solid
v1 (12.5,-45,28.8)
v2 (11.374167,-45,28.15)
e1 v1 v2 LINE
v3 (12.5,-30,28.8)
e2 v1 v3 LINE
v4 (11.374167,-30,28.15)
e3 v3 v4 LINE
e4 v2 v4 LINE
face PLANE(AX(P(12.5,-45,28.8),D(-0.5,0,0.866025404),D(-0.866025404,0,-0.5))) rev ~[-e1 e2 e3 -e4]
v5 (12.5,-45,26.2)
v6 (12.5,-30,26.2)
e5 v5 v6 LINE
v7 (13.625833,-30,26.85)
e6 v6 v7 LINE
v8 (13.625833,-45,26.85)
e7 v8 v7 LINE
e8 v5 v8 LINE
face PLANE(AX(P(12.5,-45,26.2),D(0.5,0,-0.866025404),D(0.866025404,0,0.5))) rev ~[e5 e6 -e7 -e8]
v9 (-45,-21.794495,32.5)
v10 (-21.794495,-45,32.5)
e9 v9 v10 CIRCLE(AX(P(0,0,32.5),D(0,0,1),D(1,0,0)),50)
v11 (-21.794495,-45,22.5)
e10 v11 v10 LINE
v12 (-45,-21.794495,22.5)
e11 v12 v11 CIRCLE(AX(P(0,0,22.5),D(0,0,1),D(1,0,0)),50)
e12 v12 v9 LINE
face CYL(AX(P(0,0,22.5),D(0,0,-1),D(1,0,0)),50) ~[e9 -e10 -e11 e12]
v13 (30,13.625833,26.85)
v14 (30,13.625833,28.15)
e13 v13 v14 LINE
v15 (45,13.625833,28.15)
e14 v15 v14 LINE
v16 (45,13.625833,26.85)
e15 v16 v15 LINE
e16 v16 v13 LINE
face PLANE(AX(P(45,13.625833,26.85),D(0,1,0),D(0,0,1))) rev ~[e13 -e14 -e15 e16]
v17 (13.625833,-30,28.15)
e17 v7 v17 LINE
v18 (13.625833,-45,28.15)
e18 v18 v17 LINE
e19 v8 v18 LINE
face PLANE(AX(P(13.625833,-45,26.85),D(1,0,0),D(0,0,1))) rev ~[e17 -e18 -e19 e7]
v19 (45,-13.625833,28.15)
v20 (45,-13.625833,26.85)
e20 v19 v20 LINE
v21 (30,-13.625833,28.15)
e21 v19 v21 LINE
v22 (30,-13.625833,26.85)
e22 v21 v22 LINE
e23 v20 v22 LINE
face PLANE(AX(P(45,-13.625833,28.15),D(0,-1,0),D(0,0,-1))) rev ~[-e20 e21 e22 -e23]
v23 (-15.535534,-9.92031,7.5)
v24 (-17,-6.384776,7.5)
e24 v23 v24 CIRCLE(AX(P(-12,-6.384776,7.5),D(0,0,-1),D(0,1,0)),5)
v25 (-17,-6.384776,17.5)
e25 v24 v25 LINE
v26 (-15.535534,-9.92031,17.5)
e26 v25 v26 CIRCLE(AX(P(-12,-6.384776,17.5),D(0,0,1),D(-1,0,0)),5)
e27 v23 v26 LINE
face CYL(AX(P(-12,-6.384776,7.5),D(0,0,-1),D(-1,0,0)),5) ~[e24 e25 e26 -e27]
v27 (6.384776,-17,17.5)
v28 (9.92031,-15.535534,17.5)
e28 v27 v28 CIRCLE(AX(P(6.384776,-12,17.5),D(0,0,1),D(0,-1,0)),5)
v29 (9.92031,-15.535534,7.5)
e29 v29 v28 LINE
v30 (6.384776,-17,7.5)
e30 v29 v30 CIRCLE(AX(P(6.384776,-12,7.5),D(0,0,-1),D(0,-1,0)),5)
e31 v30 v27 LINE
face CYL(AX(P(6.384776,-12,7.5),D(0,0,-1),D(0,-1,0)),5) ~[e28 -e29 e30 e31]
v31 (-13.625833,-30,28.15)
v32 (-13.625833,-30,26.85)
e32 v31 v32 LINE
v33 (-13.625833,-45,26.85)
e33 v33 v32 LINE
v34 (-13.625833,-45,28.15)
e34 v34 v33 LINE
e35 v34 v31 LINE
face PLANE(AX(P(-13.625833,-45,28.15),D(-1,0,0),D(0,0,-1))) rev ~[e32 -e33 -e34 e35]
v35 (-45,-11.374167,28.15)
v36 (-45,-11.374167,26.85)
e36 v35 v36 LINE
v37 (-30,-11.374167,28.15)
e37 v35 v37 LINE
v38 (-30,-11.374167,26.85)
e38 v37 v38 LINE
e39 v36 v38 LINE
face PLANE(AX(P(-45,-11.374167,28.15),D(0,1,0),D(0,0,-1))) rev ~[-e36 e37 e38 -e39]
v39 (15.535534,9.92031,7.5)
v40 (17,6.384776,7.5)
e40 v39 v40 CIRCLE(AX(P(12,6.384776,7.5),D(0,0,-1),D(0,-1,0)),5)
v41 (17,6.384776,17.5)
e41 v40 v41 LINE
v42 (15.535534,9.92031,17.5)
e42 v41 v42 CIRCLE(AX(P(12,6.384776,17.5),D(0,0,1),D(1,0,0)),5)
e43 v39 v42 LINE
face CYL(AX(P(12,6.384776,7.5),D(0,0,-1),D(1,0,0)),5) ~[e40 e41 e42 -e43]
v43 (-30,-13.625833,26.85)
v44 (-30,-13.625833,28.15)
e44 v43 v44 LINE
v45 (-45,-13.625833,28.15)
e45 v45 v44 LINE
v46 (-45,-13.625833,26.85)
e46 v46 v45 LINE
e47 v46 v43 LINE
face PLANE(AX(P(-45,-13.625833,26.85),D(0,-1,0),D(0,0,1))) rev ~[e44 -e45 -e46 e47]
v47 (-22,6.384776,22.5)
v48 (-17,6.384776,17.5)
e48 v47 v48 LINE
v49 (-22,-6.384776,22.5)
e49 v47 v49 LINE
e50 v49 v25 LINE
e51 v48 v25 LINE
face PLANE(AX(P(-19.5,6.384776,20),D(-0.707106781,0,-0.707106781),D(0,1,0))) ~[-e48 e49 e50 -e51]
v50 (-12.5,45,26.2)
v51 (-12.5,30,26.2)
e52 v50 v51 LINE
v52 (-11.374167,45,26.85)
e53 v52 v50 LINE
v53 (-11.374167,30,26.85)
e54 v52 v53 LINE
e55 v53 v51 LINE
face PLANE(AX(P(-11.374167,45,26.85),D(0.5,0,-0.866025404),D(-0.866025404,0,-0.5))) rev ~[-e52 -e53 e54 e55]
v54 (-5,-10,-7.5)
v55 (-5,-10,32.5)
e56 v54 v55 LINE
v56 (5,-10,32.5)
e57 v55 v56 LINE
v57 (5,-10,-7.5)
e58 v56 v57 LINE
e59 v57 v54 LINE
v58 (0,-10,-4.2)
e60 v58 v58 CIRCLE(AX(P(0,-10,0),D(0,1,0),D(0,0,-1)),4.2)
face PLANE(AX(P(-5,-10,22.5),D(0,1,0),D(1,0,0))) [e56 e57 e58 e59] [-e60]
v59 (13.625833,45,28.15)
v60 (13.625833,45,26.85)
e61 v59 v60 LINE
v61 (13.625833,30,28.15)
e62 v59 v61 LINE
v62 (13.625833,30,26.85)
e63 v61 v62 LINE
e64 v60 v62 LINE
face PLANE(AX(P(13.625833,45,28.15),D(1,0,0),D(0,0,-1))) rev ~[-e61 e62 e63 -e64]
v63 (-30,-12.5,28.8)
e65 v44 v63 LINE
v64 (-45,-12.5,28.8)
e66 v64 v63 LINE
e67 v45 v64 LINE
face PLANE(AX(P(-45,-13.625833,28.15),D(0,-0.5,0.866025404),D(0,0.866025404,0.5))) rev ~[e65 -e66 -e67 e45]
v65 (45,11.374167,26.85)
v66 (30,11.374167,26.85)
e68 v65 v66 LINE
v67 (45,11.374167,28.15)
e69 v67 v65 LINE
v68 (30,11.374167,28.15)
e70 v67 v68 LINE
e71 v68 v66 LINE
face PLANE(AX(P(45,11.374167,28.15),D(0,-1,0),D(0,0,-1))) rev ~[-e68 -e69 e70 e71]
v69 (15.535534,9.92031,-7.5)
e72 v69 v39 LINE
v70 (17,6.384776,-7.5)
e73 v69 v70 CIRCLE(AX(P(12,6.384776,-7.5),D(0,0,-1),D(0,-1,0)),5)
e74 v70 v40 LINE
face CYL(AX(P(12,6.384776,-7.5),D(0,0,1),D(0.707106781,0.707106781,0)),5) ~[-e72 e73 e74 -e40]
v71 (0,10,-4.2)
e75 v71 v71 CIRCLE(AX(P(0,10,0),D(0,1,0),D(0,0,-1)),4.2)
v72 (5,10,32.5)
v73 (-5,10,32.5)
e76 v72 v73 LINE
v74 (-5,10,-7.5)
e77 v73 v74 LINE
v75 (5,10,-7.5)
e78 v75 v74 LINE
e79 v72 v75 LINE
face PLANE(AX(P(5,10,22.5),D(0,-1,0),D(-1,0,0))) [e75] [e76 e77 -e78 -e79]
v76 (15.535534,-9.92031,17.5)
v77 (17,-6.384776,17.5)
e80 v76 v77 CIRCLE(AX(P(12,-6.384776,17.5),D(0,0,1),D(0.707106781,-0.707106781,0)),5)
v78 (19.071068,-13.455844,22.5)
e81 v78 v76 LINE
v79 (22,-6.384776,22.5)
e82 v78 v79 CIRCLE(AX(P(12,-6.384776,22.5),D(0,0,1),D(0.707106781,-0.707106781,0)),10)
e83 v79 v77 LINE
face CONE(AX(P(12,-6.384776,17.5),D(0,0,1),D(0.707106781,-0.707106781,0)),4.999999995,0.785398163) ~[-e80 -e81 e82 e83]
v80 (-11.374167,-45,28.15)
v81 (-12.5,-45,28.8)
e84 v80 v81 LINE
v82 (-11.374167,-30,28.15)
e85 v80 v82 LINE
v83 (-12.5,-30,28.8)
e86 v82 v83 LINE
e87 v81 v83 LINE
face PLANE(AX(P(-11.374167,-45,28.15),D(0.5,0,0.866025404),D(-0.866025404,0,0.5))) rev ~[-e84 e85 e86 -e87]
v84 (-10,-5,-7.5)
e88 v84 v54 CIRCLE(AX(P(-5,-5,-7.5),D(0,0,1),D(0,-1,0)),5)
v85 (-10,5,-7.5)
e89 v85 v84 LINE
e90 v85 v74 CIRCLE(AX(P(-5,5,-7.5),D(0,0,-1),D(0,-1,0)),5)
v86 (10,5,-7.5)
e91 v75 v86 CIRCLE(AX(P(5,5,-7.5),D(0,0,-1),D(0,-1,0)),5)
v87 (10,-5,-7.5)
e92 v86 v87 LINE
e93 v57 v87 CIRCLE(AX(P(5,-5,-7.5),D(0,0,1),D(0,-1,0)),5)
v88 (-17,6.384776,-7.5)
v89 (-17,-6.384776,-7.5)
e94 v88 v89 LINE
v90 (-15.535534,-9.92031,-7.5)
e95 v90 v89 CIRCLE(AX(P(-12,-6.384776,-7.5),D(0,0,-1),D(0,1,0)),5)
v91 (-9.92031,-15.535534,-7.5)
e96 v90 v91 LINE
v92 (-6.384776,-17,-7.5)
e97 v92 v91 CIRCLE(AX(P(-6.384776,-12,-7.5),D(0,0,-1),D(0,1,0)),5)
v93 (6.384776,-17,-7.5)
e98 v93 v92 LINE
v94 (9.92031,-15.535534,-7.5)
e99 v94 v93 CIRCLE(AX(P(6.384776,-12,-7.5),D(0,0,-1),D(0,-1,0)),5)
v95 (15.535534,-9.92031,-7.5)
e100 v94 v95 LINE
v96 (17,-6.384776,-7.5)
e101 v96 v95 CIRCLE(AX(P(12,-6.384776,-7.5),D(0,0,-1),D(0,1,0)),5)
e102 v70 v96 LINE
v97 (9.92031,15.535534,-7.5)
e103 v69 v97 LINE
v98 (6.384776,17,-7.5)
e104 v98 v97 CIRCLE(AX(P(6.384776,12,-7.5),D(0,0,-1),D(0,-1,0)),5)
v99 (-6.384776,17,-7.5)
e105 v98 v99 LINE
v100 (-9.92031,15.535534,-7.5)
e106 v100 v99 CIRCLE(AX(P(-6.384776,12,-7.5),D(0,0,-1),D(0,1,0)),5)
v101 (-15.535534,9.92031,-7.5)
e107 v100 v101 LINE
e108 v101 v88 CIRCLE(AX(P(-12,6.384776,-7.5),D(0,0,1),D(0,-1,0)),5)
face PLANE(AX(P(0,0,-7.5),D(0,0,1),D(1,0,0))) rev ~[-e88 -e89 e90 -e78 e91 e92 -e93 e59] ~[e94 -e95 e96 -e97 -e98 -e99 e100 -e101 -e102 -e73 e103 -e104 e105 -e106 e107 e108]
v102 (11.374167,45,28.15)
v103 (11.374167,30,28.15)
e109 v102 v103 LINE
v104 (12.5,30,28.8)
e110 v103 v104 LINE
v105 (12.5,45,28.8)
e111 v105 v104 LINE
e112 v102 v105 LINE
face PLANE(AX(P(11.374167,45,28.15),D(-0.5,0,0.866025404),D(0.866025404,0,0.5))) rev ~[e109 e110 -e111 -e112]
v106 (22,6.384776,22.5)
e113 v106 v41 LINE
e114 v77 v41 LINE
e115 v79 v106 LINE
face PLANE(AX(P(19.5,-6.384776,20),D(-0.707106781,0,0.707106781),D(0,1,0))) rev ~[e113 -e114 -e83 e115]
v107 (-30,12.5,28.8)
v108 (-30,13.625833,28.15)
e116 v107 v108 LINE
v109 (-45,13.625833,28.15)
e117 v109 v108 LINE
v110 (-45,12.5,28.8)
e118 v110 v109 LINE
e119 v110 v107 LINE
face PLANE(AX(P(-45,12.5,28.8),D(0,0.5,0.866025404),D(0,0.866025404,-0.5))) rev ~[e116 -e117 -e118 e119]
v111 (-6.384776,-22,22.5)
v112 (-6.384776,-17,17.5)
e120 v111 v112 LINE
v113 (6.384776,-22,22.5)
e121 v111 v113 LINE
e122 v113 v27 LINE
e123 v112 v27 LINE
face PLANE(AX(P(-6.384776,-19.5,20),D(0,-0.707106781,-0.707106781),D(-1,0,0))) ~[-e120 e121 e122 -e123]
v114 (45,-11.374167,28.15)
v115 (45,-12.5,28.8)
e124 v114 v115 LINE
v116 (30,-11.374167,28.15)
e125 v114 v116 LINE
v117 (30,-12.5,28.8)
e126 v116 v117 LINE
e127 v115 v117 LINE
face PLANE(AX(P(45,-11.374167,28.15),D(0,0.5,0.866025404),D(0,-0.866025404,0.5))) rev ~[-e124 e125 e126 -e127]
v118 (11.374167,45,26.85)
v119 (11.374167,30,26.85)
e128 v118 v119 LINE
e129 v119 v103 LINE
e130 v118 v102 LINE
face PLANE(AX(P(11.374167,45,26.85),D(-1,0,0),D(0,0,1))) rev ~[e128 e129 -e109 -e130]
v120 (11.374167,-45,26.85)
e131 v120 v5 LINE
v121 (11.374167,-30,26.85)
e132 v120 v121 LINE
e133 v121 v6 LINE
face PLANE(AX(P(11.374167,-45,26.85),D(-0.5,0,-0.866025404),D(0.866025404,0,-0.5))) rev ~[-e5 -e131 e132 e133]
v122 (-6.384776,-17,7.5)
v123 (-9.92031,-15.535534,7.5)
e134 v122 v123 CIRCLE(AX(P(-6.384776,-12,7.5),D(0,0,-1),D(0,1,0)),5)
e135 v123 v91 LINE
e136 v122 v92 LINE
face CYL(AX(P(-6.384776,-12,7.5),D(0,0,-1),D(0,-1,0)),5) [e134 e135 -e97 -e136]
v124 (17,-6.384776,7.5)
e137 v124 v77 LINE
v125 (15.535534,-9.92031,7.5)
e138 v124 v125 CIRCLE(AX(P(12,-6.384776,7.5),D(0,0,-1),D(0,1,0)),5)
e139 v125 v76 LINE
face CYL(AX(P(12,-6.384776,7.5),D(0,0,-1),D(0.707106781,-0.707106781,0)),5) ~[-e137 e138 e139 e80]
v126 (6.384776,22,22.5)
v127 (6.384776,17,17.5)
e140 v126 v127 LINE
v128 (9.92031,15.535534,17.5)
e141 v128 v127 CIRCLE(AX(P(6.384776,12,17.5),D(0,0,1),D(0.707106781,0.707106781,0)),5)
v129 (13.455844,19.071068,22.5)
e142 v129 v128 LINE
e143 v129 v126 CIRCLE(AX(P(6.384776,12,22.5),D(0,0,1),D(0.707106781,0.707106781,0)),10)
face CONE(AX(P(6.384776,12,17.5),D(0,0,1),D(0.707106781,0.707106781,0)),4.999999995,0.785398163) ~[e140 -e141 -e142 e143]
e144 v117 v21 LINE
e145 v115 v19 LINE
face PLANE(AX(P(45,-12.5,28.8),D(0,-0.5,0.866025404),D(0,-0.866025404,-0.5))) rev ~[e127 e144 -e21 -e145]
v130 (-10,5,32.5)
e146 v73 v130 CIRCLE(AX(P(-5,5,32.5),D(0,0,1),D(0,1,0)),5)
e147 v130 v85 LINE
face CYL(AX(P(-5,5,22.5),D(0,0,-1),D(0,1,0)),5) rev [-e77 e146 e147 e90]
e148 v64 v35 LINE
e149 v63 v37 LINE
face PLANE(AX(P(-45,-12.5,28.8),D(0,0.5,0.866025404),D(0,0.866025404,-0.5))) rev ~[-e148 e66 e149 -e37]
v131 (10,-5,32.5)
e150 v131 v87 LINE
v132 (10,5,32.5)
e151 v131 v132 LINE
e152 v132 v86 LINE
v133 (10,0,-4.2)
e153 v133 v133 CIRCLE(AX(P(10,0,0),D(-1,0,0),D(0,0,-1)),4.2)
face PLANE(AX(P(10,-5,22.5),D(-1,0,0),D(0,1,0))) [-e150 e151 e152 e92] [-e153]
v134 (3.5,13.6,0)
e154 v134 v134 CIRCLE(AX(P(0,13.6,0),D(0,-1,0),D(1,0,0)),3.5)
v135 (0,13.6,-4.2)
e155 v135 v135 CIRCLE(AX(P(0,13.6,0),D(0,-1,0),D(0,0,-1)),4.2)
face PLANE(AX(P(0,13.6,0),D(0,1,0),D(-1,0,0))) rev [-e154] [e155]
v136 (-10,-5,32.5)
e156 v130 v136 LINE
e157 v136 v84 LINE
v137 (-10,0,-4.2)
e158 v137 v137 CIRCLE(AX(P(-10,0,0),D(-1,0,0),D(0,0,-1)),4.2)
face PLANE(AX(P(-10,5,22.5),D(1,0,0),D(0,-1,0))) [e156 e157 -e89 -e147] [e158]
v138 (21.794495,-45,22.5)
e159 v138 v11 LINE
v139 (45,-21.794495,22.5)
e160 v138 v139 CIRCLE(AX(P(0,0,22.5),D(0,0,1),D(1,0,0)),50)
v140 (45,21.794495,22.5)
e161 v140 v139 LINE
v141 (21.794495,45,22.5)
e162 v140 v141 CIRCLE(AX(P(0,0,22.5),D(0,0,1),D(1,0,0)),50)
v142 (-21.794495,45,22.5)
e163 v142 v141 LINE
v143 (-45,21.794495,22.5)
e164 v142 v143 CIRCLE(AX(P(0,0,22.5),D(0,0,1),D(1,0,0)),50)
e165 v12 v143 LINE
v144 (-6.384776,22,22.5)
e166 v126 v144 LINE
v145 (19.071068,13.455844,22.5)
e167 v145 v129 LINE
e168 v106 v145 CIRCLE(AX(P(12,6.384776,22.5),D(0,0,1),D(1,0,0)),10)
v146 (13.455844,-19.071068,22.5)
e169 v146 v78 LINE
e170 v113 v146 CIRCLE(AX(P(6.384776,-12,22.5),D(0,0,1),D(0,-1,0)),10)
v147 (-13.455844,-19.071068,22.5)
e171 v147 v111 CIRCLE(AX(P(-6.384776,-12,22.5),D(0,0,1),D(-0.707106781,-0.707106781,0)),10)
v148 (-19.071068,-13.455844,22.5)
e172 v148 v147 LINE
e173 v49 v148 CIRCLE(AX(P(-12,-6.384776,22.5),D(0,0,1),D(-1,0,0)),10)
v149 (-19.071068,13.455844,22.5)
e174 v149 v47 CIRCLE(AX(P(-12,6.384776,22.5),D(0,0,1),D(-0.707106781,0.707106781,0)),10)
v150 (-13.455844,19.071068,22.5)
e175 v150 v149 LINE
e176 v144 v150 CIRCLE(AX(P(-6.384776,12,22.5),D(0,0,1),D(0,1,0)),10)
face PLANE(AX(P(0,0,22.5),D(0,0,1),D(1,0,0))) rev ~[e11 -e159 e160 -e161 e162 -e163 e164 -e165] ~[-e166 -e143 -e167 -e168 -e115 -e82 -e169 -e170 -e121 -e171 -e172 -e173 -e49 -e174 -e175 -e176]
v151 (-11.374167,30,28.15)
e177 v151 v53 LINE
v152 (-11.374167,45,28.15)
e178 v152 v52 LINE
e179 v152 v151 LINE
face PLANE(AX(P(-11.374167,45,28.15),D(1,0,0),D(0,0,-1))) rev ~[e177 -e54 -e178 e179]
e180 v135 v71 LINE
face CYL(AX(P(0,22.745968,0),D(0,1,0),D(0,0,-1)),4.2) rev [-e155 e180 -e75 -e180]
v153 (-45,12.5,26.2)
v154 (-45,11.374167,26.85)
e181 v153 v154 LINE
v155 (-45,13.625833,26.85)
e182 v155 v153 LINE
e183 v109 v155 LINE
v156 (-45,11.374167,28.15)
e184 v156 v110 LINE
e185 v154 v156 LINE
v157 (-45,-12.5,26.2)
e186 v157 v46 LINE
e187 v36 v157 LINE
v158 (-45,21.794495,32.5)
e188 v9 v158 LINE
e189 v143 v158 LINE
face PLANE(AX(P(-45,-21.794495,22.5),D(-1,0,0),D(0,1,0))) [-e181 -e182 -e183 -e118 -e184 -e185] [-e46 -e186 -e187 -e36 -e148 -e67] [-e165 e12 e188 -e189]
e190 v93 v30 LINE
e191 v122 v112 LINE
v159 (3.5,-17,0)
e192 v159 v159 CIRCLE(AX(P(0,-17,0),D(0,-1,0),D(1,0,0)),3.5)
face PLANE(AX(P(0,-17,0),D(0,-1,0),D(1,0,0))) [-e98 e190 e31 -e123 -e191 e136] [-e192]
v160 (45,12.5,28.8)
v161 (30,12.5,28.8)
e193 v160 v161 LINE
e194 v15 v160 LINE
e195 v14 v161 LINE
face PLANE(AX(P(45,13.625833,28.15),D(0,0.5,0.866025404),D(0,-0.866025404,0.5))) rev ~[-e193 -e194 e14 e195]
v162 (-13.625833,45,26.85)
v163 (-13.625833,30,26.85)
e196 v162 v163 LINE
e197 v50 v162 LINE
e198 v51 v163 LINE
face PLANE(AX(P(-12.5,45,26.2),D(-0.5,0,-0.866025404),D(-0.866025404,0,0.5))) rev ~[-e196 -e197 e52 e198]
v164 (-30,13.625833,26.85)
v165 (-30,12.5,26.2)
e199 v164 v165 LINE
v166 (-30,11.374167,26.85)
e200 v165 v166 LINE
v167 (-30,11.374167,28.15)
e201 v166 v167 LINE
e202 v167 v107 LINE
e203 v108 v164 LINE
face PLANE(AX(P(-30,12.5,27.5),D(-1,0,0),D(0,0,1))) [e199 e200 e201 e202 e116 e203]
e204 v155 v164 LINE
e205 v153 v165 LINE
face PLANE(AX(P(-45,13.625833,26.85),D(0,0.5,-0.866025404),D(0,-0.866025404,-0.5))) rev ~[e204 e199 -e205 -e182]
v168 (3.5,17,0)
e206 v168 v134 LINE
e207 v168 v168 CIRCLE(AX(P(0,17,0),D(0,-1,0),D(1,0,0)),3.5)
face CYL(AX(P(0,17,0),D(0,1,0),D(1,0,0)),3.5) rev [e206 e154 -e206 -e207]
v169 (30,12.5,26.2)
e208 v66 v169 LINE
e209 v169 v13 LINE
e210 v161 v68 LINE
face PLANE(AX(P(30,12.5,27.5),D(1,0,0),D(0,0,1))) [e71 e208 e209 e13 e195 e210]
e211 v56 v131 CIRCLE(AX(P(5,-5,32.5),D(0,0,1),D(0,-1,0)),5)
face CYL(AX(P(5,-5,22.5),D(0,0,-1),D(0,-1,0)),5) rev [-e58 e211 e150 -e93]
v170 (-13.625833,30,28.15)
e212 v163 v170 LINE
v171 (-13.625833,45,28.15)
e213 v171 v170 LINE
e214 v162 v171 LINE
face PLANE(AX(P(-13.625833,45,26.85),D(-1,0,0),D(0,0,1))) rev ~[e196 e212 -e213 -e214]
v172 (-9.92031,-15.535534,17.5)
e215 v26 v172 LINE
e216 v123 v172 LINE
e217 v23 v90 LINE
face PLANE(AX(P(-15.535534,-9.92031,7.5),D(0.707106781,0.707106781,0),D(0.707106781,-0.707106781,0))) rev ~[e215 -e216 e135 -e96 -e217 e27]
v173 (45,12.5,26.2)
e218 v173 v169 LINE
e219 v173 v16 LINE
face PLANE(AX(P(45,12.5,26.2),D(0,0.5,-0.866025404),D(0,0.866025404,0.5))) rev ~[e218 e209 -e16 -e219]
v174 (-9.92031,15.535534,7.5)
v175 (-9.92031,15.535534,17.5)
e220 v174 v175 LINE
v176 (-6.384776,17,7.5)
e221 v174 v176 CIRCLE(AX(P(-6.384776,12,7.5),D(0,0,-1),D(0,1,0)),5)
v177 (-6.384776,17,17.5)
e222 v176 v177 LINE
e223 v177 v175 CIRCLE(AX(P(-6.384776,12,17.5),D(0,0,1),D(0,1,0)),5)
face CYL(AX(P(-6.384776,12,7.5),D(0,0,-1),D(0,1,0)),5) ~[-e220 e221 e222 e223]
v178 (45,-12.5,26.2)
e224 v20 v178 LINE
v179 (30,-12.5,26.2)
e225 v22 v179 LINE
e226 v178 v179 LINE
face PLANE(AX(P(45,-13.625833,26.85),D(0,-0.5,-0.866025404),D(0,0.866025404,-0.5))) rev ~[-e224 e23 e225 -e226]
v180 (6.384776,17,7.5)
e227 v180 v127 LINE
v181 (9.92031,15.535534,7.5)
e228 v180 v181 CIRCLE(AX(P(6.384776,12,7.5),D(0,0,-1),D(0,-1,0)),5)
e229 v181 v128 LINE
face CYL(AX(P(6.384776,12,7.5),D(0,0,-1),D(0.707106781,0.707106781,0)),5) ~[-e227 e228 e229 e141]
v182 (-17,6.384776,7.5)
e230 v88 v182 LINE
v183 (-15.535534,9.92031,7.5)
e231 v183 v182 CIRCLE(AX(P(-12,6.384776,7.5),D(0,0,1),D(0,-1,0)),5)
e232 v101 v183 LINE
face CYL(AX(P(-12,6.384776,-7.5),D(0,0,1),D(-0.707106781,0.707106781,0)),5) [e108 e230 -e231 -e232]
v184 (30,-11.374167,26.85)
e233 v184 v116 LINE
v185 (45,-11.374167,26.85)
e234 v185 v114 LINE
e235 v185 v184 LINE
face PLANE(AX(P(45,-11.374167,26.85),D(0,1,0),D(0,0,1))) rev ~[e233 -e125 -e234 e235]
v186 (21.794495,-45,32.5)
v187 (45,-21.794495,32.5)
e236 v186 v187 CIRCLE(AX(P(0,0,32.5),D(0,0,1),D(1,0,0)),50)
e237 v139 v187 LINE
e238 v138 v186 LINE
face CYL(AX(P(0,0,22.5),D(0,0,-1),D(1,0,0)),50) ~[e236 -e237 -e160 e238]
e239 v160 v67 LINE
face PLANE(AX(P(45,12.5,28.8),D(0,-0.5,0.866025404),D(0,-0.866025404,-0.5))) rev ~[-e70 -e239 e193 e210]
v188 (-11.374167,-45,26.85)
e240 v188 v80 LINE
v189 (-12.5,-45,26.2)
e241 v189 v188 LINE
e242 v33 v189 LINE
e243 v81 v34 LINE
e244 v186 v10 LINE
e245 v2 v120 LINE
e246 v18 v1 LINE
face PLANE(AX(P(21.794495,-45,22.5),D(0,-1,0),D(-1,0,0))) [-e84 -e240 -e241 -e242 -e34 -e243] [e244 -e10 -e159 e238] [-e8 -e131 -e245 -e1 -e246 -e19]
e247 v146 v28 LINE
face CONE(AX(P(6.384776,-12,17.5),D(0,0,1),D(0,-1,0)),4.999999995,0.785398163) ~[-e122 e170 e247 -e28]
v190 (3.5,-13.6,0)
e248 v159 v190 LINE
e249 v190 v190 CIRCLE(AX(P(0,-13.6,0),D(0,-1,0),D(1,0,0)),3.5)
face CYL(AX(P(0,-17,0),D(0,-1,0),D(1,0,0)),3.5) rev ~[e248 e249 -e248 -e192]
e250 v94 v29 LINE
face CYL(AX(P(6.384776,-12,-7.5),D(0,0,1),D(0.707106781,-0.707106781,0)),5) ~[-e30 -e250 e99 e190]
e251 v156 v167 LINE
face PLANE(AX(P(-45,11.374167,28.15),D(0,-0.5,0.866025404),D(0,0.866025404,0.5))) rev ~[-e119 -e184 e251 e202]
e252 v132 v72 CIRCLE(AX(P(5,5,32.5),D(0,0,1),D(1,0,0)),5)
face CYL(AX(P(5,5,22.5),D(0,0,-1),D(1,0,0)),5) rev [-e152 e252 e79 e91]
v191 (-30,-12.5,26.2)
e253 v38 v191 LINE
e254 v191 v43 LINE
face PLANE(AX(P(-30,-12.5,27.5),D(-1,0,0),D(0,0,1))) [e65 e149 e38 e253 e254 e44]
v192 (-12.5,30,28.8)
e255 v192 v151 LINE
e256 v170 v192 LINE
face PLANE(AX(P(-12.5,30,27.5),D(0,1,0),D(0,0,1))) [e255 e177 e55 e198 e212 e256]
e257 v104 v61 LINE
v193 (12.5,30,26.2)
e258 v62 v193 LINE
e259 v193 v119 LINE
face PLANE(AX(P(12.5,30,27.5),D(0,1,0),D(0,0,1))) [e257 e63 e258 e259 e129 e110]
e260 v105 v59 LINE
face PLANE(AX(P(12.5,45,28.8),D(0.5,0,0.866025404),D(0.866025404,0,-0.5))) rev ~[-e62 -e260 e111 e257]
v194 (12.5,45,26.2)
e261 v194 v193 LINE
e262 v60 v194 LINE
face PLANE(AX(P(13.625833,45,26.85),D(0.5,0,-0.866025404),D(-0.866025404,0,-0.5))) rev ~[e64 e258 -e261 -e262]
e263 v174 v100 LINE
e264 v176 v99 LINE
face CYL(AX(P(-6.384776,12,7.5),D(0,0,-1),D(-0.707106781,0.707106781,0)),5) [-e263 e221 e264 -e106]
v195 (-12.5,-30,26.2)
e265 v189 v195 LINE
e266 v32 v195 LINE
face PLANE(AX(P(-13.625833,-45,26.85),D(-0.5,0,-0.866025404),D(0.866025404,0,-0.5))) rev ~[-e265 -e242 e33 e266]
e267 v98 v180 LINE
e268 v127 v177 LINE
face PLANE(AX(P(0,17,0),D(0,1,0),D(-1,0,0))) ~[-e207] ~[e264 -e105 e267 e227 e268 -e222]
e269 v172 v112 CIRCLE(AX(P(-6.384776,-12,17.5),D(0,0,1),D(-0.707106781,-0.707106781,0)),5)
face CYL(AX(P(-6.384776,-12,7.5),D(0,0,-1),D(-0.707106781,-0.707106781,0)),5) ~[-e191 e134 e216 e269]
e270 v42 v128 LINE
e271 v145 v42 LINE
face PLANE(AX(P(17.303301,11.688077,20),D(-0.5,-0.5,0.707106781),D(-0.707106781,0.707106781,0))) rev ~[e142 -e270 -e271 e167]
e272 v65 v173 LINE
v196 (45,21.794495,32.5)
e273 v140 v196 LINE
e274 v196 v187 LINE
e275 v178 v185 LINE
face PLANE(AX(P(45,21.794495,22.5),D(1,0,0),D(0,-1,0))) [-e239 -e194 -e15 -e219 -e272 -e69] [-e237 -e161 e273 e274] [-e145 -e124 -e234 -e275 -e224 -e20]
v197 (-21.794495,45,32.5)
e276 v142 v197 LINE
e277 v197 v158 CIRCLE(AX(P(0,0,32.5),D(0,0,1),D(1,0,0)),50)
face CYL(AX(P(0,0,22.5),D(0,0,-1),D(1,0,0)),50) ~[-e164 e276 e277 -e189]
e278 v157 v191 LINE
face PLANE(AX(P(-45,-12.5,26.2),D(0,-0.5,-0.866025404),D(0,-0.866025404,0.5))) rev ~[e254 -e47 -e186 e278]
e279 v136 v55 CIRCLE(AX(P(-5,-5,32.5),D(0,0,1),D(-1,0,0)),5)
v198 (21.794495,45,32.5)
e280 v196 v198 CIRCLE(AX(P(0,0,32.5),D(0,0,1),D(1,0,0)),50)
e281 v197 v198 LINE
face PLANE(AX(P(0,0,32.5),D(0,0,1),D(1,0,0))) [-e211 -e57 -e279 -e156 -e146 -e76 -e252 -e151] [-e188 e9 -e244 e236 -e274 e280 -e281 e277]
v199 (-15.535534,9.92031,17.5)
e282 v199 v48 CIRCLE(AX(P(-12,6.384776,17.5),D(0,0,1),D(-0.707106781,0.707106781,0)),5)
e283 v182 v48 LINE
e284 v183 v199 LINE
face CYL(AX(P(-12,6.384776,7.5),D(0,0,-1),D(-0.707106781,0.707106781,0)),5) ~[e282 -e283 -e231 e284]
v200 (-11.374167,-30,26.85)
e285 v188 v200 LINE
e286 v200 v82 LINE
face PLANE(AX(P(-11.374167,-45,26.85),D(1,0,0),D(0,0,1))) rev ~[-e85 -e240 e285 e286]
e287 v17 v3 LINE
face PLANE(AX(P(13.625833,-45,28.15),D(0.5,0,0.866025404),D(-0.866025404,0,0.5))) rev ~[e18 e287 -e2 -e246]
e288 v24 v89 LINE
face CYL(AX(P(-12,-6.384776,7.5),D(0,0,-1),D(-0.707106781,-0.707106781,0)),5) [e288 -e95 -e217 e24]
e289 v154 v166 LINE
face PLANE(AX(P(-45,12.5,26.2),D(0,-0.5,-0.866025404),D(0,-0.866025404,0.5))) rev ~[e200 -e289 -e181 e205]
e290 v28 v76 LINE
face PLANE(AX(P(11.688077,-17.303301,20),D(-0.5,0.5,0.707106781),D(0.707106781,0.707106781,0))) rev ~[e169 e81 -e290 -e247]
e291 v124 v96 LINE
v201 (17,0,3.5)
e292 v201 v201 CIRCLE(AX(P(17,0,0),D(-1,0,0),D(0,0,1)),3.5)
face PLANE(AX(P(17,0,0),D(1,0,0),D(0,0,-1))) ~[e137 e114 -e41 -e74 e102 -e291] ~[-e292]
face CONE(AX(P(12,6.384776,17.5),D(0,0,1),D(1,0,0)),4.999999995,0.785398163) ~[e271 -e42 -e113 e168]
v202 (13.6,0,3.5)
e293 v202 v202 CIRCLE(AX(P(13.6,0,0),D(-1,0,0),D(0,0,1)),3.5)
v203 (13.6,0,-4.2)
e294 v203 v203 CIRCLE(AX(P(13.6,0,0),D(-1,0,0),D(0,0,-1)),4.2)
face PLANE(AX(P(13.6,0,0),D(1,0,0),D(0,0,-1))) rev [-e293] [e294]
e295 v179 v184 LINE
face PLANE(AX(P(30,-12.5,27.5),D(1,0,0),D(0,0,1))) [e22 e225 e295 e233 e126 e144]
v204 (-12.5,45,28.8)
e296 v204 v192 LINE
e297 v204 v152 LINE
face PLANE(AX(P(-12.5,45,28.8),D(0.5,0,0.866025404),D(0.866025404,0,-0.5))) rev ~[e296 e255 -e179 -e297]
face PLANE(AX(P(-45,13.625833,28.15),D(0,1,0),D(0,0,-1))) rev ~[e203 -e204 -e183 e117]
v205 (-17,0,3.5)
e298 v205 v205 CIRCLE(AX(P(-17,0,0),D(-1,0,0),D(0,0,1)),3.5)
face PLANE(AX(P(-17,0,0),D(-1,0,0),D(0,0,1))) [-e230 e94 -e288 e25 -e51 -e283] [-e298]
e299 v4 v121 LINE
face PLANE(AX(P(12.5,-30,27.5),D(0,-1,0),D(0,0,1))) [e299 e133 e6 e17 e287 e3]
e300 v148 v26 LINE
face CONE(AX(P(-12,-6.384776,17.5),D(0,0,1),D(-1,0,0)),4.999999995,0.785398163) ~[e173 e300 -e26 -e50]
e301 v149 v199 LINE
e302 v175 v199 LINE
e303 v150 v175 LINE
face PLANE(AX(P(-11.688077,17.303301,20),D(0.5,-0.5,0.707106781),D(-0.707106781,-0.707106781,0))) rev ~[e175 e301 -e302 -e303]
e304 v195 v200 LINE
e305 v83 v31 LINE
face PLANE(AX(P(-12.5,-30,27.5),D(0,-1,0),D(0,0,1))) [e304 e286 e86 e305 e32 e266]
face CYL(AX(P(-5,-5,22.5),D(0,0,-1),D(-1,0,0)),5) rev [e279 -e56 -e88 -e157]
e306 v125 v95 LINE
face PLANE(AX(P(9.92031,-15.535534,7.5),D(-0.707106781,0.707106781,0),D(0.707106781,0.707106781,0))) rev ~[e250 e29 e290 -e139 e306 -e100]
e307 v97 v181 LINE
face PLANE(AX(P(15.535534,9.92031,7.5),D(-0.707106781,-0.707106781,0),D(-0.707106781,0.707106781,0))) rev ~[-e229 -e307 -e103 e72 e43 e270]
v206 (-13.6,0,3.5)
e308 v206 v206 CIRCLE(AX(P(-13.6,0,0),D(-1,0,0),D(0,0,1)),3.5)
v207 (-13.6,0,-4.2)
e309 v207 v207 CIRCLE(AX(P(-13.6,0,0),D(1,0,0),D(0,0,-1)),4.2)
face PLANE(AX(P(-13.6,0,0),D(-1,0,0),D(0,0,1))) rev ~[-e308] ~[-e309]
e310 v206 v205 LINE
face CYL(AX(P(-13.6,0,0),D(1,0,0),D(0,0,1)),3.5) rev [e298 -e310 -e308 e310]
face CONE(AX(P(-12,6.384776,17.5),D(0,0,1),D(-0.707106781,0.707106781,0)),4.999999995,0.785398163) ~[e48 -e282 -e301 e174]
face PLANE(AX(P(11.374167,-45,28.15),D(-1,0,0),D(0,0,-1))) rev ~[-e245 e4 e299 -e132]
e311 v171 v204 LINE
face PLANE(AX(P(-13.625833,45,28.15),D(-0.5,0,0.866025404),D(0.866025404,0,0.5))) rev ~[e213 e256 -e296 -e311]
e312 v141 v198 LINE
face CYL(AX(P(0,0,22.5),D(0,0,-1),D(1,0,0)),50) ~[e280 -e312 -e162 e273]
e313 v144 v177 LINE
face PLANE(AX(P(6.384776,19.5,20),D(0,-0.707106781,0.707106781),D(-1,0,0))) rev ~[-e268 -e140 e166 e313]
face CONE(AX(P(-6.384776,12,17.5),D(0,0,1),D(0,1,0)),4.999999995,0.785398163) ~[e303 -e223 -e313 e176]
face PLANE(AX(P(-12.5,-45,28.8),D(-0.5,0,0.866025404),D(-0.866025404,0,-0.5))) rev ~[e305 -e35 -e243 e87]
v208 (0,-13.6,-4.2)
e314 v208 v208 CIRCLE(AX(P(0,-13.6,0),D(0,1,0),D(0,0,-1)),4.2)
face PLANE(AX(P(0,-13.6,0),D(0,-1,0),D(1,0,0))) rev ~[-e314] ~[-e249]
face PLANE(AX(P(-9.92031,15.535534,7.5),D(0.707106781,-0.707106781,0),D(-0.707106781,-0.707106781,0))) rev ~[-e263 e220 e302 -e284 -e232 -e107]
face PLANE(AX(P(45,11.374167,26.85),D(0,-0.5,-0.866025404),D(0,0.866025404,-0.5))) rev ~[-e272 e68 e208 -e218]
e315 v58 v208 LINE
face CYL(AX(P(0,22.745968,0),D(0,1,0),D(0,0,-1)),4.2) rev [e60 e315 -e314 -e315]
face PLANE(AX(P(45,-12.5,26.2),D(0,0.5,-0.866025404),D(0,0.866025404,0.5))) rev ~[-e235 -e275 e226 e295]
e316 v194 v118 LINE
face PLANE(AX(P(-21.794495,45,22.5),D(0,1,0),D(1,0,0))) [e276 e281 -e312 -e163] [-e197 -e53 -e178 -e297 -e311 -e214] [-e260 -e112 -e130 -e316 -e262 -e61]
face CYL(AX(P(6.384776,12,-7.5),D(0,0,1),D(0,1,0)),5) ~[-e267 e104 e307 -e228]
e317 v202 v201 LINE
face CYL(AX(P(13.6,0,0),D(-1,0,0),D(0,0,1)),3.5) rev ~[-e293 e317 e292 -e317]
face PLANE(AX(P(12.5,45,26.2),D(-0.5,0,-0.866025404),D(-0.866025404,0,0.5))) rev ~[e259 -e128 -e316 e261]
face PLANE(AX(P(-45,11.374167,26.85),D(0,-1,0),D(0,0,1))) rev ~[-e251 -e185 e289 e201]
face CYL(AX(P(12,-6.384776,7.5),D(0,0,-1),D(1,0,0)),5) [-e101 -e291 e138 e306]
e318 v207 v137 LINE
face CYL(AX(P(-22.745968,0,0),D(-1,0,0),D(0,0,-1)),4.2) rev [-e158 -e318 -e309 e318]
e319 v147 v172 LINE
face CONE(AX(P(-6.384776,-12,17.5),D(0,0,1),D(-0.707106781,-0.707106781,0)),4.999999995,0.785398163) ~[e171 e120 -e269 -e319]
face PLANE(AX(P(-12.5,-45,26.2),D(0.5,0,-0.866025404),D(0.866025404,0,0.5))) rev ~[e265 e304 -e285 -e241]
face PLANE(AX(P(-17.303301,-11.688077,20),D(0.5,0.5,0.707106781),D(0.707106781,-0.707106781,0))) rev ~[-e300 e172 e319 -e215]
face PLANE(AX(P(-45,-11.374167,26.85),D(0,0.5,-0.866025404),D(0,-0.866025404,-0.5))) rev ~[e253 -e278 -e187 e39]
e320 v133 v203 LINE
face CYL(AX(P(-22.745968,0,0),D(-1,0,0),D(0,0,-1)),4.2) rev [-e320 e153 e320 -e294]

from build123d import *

# Parameters (mm, degrees)
EXTRUDE_1_DEPTH          = 7.5
CUT_EXTRUDE_1_DEPTH      = 30.546573405
CUT_EXTRUDE_1_DEPTH_BACK = 30.546573405
SKETCH_2_W               = 20
SKETCH_2_H               = 20
SKETCH_11_W              = 29.504788154
SKETCH_11_H              = 47.493911142
CUT_EXTRUDE_7_DEPTH      = 1
SKETCH_12_W              = 20.237973212
SKETCH_12_H              = 25.719397838
CUT_EXTRUDE_8_DEPTH      = 1
FILLET_1_R               = 5
FILLET_2_R               = 5
CUT_EXTRUDE_2_DEPTH      = 39.745967532
CUT_EXTRUDE_2_DEPTH_BACK = 39.745967532
SKETCH_3_R               = 4.2
CUT_EXTRUDE_3_DEPTH      = 39.745967532
CUT_EXTRUDE_3_DEPTH_BACK = 39.745967532
SKETCH_4_R               = 4.2
EXTRUDE_2_DEPTH          = 15
SKETCH_6_R               = 4.2
SKETCH_6_R_2             = 3.5
EXTRUDE_3_DEPTH          = 3.4
EXTRUDE_START            = -3.4
SKETCH_13_R              = 4.2
SKETCH_13_R_2            = 3.5
EXTRUDE_4_DEPTH          = 3.4
SKETCH_14_R              = 50
EXTRUDE_5_DEPTH          = 10
CUT_EXTRUDE_START        = -10
CUT_EXTRUDE_9_DEPTH      = 10
CHAMFER_1_SIZE           = 5
CUT_EXTRUDE_10_DEPTH     = 15
PATTERN_CIRCULAR_1_COUNT = 4


with BuildPart() as part:
    # ｽｹｯﾁ1 → ﾎﾞｽ - 押し出し1 (new, symmetric)
    with BuildSketch(Plane.XY):
        Polygon((7.455844123, -18), (18, -7.455844123), (18, 7.455844123), (7.455844123, 18), (-7.455844123, 18), (-18, 7.455844123), (-18, -7.455844123), (-7.455844123, -18), align=None)
    extrude(amount=EXTRUDE_1_DEPTH, both=True)

    # ｽｹｯﾁ2 → ｶｯﾄ - 押し出し1 (cut, two sides: drawn at the far end of the back side and taken through both)
    with BuildSketch(Plane.XY.offset(7.5).offset(-CUT_EXTRUDE_1_DEPTH_BACK)):
        Rectangle(SKETCH_2_W, SKETCH_2_H)
    extrude(amount=CUT_EXTRUDE_1_DEPTH + CUT_EXTRUDE_1_DEPTH_BACK, mode=Mode.SUBTRACT)

    # ｽｹｯﾁ11 → ｶｯﾄ - 押し出し7 (cut)
    with BuildSketch(Plane(origin=(0, 18, 0), x_dir=(1, 0, 0), z_dir=(0, 1, 0))):
        Rectangle(SKETCH_11_W, SKETCH_11_H)
    cut_extrude_7 = extrude(amount=-CUT_EXTRUDE_7_DEPTH, mode=Mode.SUBTRACT)

    # ﾐﾗｰ1: ｶｯﾄ - 押し出し7 across plane
    add(cut_extrude_7.mirror(Plane.ZX), mode=Mode.SUBTRACT)

    # ｽｹｯﾁ12 → ｶｯﾄ - 押し出し8 (cut)
    with BuildSketch(Plane.ZY.offset(18)):
        Rectangle(SKETCH_12_W, SKETCH_12_H)
    cut_extrude_8 = extrude(amount=-CUT_EXTRUDE_8_DEPTH, mode=Mode.SUBTRACT)

    # ﾐﾗｰ2: ｶｯﾄ - 押し出し8 across plane
    add(cut_extrude_8.mirror(Plane(origin=(0, 0, 0), x_dir=(0, 0, 1), z_dir=(1, 0, 0))), mode=Mode.SUBTRACT)

    # ﾌｨﾚｯﾄ1
    fillet_1_edges = [part.edges().sort_by_distance(p)[0] for p in [
        (-10, -10, 0),
        (-10, 10, 0),
        (10, 10, 0),
        (10, -10, 0),
    ]]
    fillet(fillet_1_edges, radius=FILLET_1_R)

    # ﾌｨﾚｯﾄ2
    fillet_2_edges = [part.edges().sort_by_distance(p)[0] for p in [
        (17, 8.455844123, 0),
        (17, -8.455844123, 0),
        (-8.455844123, 17, 0),
        (8.455844123, 17, 0),
        (8.455844123, -17, 0),
        (-8.455844123, -17, 0),
        (-17, -8.455844123, 0),
        (-17, 8.455844123, 0),
    ]]
    fillet(fillet_2_edges, radius=FILLET_2_R)

    # ｽｹｯﾁ3 → ｶｯﾄ - 押し出し2 (cut, two sides: drawn at the far end of the back side and taken through both)
    with BuildSketch(Plane.XZ.offset(17).offset(-CUT_EXTRUDE_2_DEPTH_BACK)):
        with Locations(Location((0, 0, 0), (0, 0, 270))):
            Circle(SKETCH_3_R)
    extrude(amount=CUT_EXTRUDE_2_DEPTH + CUT_EXTRUDE_2_DEPTH_BACK, mode=Mode.SUBTRACT)

    # ｽｹｯﾁ4 → ｶｯﾄ - 押し出し3 (cut, two sides: drawn at the far end of the back side and taken through both)
    with BuildSketch(Plane(origin=(17, 0, 0), x_dir=(0, 0, -1), z_dir=(1, 0, 0)).offset(-CUT_EXTRUDE_3_DEPTH_BACK)):
        Circle(SKETCH_4_R)
    extrude(amount=CUT_EXTRUDE_3_DEPTH + CUT_EXTRUDE_3_DEPTH_BACK, mode=Mode.SUBTRACT)

    # ｽｹｯﾁ5 → ﾎﾞｽ - 押し出し2 (add)
    with BuildSketch(Plane.XY.offset(7.5)):
        with BuildLine():
            Line((17, -6.384776311), (17, 6.384776311))
            ThreePointArc((17, 6.384776311), (16.619397663, 8.298193473), (15.535533906, 9.920310217))
            Line((15.535533906, 9.920310217), (9.920310217, 15.535533906))
            ThreePointArc((9.920310217, 15.535533906), (8.298193473, 16.619397663), (6.384776311, 17))
            Line((6.384776311, 17), (-6.384776311, 17))
            ThreePointArc((-6.384776311, 17), (-8.298193473, 16.619397663), (-9.920310217, 15.535533906))
            Line((-9.920310217, 15.535533906), (-15.535533906, 9.920310217))
            ThreePointArc((-15.535533906, 9.920310217), (-16.619397663, 8.298193473), (-17, 6.384776311))
            Line((-17, 6.384776311), (-17, -6.384776311))
            ThreePointArc((-17, -6.384776311), (-16.619397663, -8.298193473), (-15.535533906, -9.920310217))
            Line((-15.535533906, -9.920310217), (-9.920310217, -15.535533906))
            ThreePointArc((-9.920310217, -15.535533906), (-8.298193473, -16.619397663), (-6.384776311, -17))
            Line((-6.384776311, -17), (6.384776311, -17))
            ThreePointArc((6.384776311, -17), (8.298193473, -16.619397663), (9.920310217, -15.535533906))
            Line((9.920310217, -15.535533906), (15.535533906, -9.920310217))
            ThreePointArc((15.535533906, -9.920310217), (16.619397663, -8.298193473), (17, -6.384776311))
        make_face()
        with BuildLine():
            Line((5, 10), (-5, 10))
            ThreePointArc((-5, 10), (-8.535533906, 8.535533906), (-10, 5))
            Line((-10, 5), (-10, -5))
            ThreePointArc((-10, -5), (-8.535533906, -8.535533906), (-5, -10))
            Line((-5, -10), (5, -10))
            ThreePointArc((5, -10), (8.535533906, -8.535533906), (10, -5))
            Line((10, -5), (10, 5))
            ThreePointArc((10, 5), (8.535533906, 8.535533906), (5, 10))
        make_face(mode=Mode.SUBTRACT)
    extrude(amount=EXTRUDE_2_DEPTH)

    # ｽｹｯﾁ6 → ﾎﾞｽ - 押し出し3 (add)
    with BuildSketch(Plane.XZ.offset(17)):
        Circle(SKETCH_6_R)
        Circle(SKETCH_6_R_2, mode=Mode.SUBTRACT)
    extrude_3 = extrude(amount=-EXTRUDE_3_DEPTH)

    # ﾐﾗｰ3: ﾎﾞｽ - 押し出し3 across plane
    add(extrude_3.mirror(Plane.ZX))

    # ｽｹｯﾁ13 → ﾎﾞｽ - 押し出し4 (add)
    with BuildSketch(Plane.ZY.offset(17).offset(EXTRUDE_START)):
        Circle(SKETCH_13_R)
        Circle(SKETCH_13_R_2, mode=Mode.SUBTRACT)
    extrude_4 = extrude(amount=EXTRUDE_4_DEPTH)

    # ﾐﾗｰ4: ﾎﾞｽ - 押し出し4 across plane
    add(extrude_4.mirror(Plane(origin=(0, 0, 0), x_dir=(0, 0, 1), z_dir=(1, 0, 0))))

    # ｽｹｯﾁ14 → ﾎﾞｽ - 押し出し5 (add)
    with BuildSketch(Plane.XY.offset(22.5)):
        Circle(SKETCH_14_R)
        with BuildLine():
            Line((-5, -10), (5, -10))
            ThreePointArc((5, -10), (8.535533906, -8.535533906), (10, -5))
            Line((10, -5), (10, 5))
            ThreePointArc((10, 5), (8.535533906, 8.535533906), (5, 10))
            Line((5, 10), (-5, 10))
            ThreePointArc((-5, 10), (-8.535533906, 8.535533906), (-10, 5))
            Line((-10, 5), (-10, -5))
            ThreePointArc((-10, -5), (-8.535533906, -8.535533906), (-5, -10))
        make_face(mode=Mode.SUBTRACT)
    extrude(amount=EXTRUDE_5_DEPTH)

    # ｽｹｯﾁ15 → ｶｯﾄ - 押し出し9 (cut)
    with BuildSketch(Plane.XY.offset(32.5).offset(CUT_EXTRUDE_START)):
        with BuildLine():
            ThreePointArc((21.794494718, 45), (0, 50), (-21.794494718, 45))
            Line((-21.794494718, 45), (21.794494718, 45))
        make_face()
        with BuildLine():
            Line((45, 21.794494718), (45, -21.794494718))
            ThreePointArc((45, -21.794494718), (48.733971724, -11.180339887), (50, 0))
            ThreePointArc((50, 0), (48.733971724, 11.180339887), (45, 21.794494718))
        make_face()
        with BuildLine():
            Line((21.794494718, -45), (-21.794494718, -45))
            ThreePointArc((-21.794494718, -45), (0, -50), (21.794494718, -45))
        make_face()
        with BuildLine():
            ThreePointArc((-45, 21.794494718), (-50, 0), (-45, -21.794494718))
            Line((-45, -21.794494718), (-45, 21.794494718))
        make_face()
    extrude(amount=CUT_EXTRUDE_9_DEPTH, mode=Mode.SUBTRACT)

    # 面取り1
    chamfer_1_edges = [part.edges().sort_by_distance(p)[0] for p in [
        (16.619397663, -8.298193473, 22.5),
        (17, 0, 22.5),
        (16.619397663, 8.298193473, 22.5),
        (12.727922061, 12.727922061, 22.5),
        (8.298193473, 16.619397663, 22.5),
        (0, 17, 22.5),
        (-8.298193473, 16.619397663, 22.5),
        (-12.727922061, 12.727922061, 22.5),
        (-16.619397663, 8.298193473, 22.5),
        (-17, 0, 22.5),
        (-16.619397663, -8.298193473, 22.5),
        (-12.727922061, -12.727922061, 22.5),
        (-8.298193473, -16.619397663, 22.5),
        (0, -17, 22.5),
        (8.298193473, -16.619397663, 22.5),
        (12.727922061, -12.727922061, 22.5),
    ]]
    chamfer(chamfer_1_edges, length=CHAMFER_1_SIZE)

    # ｽｹｯﾁ16 → ｶｯﾄ - 押し出し10 (cut)
    with BuildSketch(Plane.ZY.offset(45)):
        Polygon((28.8, 12.5), (28.15, 13.625833025), (26.85, 13.625833025), (26.2, 12.5), (26.85, 11.374166975), (28.15, 11.374166975), align=None)
        Polygon((28.8, -12.5), (28.15, -11.374166975), (26.85, -11.374166975), (26.2, -12.5), (26.85, -13.625833025), (28.15, -13.625833025), align=None)
    cut_extrude_10 = extrude(amount=-CUT_EXTRUDE_10_DEPTH, mode=Mode.SUBTRACT)

    # 円形ﾊﾟﾀｰﾝ1: ｶｯﾄ - 押し出し10 ×4 about axis
    pattern_circular_1_axis = Axis((0, 0, 0), (0, 0, 1))
    for i in range(1, PATTERN_CIRCULAR_1_COUNT):
        add(cut_extrude_10.rotate(pattern_circular_1_axis, i * 360 / PATTERN_CIRCULAR_1_COUNT), mode=Mode.SUBTRACT)


solid = part.part
